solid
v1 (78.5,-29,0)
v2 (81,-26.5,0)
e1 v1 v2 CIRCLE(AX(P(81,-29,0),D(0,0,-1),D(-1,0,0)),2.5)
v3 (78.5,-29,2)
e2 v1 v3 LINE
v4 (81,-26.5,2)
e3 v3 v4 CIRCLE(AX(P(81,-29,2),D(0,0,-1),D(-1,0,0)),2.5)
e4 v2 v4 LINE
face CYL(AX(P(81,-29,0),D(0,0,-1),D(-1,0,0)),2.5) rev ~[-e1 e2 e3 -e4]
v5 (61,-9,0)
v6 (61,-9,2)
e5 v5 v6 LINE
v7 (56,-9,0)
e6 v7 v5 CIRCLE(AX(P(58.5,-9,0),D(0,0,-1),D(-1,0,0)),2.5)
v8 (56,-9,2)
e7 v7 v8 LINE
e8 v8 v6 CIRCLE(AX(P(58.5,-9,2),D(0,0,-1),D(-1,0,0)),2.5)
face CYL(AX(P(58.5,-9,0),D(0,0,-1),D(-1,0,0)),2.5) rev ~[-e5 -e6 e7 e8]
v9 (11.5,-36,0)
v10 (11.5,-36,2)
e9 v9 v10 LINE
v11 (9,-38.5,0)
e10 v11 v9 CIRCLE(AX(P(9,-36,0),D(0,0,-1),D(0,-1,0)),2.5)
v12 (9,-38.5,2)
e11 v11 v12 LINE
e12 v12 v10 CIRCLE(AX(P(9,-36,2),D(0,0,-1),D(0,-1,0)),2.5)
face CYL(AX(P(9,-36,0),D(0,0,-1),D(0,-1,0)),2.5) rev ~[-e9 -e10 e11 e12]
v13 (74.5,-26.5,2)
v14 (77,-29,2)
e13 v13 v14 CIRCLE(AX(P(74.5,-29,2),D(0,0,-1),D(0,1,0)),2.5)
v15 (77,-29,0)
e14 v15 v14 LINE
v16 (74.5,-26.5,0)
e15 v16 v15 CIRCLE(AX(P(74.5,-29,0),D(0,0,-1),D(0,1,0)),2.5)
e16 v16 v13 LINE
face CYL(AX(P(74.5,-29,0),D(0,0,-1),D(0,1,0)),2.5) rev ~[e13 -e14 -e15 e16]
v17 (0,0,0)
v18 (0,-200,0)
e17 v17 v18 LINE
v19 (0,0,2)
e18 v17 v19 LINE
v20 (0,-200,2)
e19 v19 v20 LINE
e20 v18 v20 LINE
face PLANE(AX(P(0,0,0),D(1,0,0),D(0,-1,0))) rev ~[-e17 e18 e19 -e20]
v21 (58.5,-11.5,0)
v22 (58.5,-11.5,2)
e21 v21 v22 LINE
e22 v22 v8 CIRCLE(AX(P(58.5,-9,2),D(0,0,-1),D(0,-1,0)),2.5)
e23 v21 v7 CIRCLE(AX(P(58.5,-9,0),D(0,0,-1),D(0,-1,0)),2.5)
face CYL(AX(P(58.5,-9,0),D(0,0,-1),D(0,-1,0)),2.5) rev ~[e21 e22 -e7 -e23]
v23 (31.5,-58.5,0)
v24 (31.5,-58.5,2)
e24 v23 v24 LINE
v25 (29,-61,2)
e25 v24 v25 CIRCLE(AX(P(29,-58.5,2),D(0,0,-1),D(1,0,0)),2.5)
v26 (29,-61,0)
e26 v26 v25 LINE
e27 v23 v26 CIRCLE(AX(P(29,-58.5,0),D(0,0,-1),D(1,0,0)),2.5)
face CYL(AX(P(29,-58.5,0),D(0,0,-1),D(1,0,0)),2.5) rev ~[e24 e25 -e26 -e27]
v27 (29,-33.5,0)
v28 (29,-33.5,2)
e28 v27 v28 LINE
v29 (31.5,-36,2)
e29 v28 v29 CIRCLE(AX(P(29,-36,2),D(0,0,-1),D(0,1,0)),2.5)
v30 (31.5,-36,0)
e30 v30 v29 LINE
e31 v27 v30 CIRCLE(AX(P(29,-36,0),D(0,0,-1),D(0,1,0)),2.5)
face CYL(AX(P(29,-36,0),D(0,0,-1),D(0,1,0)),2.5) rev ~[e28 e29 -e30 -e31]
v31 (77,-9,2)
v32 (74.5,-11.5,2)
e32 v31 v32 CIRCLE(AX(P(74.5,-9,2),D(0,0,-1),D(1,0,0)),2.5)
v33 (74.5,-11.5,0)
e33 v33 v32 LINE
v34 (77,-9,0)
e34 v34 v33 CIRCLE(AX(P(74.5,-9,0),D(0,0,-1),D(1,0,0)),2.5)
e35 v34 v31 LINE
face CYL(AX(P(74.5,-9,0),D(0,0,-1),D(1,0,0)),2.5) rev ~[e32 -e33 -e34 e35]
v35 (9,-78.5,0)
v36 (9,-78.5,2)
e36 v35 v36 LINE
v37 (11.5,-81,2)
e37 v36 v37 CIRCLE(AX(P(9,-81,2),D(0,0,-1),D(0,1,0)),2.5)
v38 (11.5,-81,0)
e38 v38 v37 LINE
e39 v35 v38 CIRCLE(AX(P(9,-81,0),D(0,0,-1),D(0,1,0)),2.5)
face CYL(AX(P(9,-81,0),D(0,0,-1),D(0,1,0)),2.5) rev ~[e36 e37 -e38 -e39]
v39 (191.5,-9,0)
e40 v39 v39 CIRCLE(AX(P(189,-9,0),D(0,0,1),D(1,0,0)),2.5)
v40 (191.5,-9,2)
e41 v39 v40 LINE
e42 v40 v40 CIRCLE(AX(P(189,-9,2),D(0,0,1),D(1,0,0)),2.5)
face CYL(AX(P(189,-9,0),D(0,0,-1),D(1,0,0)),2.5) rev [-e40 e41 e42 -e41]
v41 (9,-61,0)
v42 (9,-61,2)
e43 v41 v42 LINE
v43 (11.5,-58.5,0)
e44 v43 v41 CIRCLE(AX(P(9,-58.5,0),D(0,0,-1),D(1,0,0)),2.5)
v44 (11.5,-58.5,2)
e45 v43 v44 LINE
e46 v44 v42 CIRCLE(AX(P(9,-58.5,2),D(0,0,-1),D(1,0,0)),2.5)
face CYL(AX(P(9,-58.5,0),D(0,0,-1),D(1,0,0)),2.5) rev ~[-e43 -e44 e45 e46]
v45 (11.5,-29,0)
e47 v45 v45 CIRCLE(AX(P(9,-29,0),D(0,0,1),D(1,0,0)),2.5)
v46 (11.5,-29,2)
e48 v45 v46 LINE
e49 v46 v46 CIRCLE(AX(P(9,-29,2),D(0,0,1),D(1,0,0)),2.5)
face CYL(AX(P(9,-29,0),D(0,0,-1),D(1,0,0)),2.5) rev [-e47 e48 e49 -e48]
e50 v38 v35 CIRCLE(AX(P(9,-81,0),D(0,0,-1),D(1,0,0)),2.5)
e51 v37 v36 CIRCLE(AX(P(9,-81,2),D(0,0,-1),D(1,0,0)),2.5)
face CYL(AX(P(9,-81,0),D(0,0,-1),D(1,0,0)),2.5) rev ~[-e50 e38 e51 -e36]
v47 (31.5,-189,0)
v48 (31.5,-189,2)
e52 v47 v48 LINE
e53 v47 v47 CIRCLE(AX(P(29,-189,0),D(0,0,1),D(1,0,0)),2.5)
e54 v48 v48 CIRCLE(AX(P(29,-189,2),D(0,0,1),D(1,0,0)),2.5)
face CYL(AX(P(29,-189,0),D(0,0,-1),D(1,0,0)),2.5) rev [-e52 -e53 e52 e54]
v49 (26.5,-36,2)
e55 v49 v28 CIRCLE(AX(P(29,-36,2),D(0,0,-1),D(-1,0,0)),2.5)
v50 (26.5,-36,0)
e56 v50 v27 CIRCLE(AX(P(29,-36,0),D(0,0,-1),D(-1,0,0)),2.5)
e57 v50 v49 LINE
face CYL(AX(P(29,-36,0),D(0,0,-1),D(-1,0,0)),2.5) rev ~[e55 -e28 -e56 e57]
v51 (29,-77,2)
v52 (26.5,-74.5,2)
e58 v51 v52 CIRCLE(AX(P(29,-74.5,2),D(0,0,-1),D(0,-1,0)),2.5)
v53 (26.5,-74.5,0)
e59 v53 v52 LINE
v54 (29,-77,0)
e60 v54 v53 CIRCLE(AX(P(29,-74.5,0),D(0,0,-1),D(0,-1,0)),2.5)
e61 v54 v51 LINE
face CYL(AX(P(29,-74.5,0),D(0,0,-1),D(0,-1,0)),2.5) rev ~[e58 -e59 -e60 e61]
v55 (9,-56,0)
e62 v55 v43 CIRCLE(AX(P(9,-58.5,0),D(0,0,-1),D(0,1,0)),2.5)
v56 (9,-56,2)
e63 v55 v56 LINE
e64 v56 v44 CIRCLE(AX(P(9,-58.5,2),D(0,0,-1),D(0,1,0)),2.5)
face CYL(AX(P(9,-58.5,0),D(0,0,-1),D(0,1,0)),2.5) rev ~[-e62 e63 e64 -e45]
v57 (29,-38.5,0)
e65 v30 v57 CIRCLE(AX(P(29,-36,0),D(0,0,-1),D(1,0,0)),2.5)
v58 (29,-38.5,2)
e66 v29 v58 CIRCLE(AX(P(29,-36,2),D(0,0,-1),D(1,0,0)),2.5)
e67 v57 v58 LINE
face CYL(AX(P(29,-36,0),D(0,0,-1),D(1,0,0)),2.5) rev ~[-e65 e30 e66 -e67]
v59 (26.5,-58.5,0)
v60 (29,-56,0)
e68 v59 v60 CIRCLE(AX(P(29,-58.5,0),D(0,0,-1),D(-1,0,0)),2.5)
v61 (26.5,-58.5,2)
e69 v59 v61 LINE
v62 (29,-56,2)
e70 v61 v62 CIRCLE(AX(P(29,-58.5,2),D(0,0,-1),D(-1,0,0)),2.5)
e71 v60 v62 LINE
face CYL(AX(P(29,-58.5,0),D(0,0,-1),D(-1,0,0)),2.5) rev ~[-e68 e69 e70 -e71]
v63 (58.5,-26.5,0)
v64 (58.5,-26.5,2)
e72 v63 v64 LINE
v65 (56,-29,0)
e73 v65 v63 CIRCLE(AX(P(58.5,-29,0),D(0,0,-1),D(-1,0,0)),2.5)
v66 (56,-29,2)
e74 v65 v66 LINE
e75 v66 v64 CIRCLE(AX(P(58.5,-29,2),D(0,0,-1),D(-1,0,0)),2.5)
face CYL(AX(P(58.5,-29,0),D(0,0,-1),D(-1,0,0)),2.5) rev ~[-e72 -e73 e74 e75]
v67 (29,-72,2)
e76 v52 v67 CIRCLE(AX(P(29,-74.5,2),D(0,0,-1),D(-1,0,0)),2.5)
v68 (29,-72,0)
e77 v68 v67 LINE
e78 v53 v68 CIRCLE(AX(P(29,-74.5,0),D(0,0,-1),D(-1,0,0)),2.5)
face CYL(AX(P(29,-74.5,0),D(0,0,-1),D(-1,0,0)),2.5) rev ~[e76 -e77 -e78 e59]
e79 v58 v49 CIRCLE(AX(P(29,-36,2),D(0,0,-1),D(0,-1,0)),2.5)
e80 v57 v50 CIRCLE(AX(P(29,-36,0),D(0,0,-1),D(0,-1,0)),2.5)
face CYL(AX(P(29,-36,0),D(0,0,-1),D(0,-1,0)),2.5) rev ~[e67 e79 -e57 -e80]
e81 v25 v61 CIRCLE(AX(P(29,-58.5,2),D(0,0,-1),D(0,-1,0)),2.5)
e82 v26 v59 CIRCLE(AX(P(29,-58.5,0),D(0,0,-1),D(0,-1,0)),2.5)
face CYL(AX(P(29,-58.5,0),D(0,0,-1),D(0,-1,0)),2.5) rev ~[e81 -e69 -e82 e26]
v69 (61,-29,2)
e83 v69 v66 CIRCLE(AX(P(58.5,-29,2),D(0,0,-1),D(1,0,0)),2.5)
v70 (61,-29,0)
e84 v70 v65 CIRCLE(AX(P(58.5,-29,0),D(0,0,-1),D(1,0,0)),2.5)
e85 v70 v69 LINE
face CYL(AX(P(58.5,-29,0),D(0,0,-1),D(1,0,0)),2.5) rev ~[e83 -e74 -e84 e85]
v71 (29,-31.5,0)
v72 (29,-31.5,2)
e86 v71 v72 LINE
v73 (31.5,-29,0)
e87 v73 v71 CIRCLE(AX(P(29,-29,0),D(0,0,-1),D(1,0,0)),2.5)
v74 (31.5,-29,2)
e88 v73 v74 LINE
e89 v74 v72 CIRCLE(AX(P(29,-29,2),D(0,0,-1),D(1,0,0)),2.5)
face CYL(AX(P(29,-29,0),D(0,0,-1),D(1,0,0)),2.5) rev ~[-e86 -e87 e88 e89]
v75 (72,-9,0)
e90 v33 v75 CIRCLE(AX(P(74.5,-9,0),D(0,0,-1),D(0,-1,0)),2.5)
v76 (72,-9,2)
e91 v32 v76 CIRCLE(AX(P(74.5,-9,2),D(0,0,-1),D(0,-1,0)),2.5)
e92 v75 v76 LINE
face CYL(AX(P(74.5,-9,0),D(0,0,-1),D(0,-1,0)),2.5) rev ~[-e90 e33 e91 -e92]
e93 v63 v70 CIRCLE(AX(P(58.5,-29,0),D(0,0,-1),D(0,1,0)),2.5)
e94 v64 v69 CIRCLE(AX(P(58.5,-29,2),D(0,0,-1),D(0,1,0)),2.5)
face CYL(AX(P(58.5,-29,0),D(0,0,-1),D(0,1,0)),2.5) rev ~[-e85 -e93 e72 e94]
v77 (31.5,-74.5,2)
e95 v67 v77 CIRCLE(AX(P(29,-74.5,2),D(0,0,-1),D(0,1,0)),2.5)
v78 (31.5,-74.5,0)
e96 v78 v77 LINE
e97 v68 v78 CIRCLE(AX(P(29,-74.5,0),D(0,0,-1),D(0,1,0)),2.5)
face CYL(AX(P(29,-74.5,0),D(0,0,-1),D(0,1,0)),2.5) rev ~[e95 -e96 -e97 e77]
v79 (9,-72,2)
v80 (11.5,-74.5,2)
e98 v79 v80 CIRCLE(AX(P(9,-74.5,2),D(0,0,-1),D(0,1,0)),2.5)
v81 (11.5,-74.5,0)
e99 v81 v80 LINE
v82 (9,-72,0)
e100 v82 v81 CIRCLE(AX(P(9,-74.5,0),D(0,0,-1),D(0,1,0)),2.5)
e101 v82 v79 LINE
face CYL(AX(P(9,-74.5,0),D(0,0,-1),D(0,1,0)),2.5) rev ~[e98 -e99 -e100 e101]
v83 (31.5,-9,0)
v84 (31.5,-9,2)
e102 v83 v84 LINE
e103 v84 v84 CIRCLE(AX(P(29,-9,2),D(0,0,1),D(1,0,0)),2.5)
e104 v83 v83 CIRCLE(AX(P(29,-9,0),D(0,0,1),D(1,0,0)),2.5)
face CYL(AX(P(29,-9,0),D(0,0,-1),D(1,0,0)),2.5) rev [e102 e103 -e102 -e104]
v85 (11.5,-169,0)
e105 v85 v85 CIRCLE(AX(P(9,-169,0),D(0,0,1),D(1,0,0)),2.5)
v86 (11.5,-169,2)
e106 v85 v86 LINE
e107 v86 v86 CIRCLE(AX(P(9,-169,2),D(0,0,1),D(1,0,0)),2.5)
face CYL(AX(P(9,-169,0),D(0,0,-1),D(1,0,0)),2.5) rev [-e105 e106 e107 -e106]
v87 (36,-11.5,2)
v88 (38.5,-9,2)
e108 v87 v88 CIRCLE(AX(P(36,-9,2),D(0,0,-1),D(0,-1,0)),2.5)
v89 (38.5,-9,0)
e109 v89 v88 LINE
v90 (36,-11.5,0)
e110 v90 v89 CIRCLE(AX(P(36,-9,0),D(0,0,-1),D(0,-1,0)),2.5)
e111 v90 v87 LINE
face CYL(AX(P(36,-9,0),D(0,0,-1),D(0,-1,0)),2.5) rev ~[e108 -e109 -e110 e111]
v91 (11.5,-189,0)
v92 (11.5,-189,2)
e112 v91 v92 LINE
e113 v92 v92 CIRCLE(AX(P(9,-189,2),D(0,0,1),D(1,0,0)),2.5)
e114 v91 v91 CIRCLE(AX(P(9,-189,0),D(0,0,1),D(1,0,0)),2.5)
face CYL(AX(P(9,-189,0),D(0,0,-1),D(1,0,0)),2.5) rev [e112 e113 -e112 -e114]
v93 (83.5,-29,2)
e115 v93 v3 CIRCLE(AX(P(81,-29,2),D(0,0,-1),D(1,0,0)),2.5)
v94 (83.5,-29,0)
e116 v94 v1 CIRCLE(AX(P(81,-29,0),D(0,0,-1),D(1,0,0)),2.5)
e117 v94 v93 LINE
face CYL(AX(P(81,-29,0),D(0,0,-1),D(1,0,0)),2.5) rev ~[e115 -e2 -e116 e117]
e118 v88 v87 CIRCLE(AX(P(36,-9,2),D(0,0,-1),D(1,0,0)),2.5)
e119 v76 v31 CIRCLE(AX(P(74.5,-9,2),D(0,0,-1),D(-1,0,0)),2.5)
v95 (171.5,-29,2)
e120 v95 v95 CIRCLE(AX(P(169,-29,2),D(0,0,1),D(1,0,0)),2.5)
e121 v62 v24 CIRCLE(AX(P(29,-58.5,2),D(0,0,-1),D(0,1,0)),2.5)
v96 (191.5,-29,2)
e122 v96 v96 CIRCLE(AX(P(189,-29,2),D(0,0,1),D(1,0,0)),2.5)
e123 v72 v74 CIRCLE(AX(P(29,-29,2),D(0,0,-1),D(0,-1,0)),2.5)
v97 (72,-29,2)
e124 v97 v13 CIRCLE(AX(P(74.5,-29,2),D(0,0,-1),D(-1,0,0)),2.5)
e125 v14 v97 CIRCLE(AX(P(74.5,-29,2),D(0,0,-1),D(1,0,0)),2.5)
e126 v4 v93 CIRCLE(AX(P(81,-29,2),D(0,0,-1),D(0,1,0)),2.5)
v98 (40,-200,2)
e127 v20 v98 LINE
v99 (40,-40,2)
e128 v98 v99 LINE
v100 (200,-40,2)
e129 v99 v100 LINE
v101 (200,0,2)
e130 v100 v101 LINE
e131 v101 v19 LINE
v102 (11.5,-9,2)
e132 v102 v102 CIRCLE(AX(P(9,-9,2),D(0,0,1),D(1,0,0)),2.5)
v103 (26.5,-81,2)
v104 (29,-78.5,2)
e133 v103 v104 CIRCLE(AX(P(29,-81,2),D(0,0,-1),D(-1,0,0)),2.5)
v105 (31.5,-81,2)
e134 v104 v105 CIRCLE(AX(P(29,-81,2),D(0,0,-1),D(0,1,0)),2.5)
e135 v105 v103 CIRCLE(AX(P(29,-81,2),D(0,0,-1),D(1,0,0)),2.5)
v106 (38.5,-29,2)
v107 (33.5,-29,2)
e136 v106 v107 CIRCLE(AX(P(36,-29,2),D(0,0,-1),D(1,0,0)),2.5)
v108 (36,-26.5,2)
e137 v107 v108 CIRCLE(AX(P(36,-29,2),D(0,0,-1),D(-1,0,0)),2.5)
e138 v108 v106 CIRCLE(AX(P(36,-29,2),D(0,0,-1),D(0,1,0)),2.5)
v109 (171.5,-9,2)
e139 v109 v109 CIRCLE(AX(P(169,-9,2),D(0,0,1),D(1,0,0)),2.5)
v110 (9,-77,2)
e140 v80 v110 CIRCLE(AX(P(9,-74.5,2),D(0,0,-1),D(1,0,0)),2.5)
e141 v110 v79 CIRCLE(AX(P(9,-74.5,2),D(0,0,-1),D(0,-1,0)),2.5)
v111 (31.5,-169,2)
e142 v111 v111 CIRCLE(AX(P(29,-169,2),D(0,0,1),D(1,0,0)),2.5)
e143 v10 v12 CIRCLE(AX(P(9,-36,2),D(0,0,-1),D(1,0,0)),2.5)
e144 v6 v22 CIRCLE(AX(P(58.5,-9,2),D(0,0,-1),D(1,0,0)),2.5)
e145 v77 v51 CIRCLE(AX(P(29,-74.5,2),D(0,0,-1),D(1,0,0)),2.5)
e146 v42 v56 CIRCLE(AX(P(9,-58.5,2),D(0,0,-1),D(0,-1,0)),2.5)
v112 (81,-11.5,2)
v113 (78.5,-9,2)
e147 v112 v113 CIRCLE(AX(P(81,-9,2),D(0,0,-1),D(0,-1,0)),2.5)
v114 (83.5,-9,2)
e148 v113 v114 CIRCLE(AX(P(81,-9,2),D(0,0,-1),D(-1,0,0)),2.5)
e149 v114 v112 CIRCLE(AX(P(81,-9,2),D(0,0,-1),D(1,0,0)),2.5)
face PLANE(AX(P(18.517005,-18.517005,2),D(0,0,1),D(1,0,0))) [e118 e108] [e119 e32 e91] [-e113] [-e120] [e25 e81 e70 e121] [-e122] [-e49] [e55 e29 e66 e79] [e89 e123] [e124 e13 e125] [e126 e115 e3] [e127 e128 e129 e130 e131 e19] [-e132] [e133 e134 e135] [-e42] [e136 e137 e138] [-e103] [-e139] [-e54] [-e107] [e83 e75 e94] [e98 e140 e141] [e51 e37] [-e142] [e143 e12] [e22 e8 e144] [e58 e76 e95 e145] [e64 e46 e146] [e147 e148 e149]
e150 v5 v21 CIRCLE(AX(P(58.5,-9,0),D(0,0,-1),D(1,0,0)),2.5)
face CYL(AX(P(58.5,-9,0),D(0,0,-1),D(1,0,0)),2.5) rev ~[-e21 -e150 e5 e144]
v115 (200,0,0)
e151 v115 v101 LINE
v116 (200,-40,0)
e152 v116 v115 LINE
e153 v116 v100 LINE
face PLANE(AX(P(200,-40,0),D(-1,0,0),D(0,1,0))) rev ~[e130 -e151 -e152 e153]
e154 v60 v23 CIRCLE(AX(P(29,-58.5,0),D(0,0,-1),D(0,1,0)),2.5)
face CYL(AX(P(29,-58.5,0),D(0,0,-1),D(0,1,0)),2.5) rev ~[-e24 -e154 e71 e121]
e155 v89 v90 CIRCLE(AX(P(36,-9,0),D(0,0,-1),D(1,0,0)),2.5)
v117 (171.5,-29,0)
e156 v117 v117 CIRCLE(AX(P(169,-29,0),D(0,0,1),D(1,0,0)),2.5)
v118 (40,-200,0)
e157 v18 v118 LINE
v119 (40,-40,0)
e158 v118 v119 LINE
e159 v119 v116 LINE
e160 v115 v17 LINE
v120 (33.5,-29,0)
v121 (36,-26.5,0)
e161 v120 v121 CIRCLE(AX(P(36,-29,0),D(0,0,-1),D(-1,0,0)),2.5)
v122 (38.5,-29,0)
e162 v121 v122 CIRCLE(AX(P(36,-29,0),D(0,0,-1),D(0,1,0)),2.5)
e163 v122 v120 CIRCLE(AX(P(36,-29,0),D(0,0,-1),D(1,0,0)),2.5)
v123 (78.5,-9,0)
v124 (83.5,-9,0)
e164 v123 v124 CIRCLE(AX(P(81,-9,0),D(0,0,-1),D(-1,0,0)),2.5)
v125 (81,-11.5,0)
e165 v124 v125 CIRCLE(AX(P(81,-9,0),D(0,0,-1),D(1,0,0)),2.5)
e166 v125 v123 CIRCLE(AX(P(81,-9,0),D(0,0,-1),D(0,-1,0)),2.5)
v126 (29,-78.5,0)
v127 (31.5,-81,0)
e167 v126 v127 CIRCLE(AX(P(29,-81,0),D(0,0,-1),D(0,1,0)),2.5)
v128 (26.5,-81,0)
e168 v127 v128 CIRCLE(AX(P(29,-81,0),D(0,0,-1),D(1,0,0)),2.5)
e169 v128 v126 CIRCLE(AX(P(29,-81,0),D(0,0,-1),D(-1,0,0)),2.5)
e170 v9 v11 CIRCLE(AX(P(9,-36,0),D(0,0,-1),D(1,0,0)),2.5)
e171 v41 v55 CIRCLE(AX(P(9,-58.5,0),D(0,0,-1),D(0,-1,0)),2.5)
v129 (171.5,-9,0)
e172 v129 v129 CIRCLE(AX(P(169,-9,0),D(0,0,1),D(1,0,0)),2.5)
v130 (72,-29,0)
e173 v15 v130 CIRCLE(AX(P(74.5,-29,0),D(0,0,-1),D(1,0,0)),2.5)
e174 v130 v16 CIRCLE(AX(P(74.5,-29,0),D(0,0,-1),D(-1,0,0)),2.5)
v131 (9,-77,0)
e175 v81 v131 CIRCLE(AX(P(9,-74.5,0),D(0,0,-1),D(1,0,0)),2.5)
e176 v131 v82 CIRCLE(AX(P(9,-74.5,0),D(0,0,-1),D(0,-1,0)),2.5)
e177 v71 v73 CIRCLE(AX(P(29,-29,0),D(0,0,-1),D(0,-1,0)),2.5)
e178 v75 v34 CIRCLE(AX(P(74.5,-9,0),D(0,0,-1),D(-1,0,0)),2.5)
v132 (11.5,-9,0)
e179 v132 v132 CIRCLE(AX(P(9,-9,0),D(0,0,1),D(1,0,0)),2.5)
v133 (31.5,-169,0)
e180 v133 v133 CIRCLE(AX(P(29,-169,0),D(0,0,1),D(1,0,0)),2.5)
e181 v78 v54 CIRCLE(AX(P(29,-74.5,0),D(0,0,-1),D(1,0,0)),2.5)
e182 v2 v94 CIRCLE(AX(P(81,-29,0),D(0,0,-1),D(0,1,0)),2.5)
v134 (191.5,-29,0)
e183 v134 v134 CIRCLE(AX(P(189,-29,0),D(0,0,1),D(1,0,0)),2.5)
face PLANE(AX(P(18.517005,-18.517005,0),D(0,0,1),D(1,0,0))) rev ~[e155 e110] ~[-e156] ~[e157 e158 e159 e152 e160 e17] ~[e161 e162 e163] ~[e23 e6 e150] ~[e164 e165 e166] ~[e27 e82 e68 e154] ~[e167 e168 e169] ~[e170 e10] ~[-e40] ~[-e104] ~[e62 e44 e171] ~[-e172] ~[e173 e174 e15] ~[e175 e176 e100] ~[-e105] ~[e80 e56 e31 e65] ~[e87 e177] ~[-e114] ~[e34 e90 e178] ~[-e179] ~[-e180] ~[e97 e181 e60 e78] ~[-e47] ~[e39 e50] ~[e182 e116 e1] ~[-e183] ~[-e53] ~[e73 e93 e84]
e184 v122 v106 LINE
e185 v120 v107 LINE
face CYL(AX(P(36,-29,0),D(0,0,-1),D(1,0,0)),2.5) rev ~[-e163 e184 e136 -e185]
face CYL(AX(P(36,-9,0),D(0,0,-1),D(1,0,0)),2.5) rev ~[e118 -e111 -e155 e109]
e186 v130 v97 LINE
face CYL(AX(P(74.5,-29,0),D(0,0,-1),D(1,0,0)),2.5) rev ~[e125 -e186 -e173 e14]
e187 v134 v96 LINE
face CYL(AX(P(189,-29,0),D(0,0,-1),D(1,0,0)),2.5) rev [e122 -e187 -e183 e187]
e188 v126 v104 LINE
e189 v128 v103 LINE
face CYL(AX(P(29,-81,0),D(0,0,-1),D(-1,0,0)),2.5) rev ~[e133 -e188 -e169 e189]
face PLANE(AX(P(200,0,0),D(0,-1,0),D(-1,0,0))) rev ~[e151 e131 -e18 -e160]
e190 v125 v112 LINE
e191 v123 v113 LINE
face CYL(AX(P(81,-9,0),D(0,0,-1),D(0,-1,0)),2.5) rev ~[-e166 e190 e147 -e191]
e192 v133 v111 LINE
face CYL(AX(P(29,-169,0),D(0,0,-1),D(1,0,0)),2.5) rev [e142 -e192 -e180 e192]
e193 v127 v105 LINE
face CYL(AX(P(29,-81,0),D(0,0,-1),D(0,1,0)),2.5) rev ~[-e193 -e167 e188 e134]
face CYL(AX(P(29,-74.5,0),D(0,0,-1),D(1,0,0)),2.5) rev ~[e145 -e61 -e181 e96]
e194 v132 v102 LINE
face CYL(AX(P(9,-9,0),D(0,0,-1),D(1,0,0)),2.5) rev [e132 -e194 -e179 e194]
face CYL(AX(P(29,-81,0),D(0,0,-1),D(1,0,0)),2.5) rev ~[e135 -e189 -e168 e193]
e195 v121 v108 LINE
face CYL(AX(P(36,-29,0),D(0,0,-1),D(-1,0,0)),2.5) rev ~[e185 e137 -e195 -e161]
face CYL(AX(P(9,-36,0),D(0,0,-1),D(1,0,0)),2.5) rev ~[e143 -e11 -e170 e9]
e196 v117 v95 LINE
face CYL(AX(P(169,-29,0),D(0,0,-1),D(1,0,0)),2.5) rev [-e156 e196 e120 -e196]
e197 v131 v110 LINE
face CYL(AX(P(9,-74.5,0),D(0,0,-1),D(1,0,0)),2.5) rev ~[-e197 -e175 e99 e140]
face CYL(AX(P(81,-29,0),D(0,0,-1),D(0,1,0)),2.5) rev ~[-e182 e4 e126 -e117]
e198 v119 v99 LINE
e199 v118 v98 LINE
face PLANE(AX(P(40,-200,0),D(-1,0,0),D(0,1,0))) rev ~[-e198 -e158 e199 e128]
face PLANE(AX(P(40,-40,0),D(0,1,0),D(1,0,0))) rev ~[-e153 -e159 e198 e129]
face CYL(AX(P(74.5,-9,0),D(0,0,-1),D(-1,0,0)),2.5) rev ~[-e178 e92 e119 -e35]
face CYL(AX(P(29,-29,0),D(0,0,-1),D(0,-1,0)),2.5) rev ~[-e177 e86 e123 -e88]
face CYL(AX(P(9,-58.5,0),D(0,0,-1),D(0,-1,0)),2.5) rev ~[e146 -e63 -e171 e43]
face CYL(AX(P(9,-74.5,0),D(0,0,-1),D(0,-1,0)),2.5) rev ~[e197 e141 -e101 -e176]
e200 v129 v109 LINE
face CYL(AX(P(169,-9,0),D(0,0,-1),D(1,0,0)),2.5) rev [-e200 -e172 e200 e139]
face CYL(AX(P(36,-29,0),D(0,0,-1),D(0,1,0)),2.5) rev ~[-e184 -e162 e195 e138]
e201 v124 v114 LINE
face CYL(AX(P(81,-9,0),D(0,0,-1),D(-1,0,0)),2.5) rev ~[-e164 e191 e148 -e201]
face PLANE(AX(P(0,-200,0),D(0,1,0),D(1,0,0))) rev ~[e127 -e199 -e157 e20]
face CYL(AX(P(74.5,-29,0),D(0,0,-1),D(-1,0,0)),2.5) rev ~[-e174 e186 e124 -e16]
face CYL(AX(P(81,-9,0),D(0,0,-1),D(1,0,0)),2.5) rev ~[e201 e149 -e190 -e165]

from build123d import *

# Parameters (mm, degrees)
F0_R     = 2.5
F1_DEPTH = 2


with BuildPart() as f1:
    # F0 (on Top) → F1 (new body)
    with BuildSketch(Plane.XY):
        with BuildLine():
            Line((40, 0), (0, 0))
            Line((0, 0), (0, -40))
            Line((0, -40), (9, -40))
            Line((9, -40), (9, -38.5))
            ThreePointArc((9, -38.5), (7.232233047, -34.232233047), (11.5, -36))
            Line((11.5, -36), (26.5, -36))
            ThreePointArc((26.5, -36), (27.232233047, -34.232233047), (29, -33.5))
            Line((29, -33.5), (29, -31.5))
            ThreePointArc((29, -31.5), (27.232233047, -27.232233047), (31.5, -29))
            Line((31.5, -29), (33.5, -29))
            ThreePointArc((33.5, -29), (34.232233047, -27.232233047), (36, -26.5))
            Line((36, -26.5), (36, -11.5))
            ThreePointArc((36, -11.5), (34.232233047, -7.232233047), (38.5, -9))
            Line((38.5, -9), (40, -9))
            Line((40, -9), (40, 0))
        make_face()
        with Locations((9, -29)):
            Circle(F0_R, mode=Mode.SUBTRACT)
        with Locations((9, -9)):
            Circle(F0_R, mode=Mode.SUBTRACT)
        with Locations((29, -9)):
            Circle(F0_R, mode=Mode.SUBTRACT)
        with BuildLine():
            Line((200, 0), (40, 0))
            Line((40, 0), (40, -9))
            Line((40, -9), (56, -9))
            ThreePointArc((56, -9), (58.5, -6.5), (61, -9))
            Line((61, -9), (72, -9))
            ThreePointArc((72, -9), (74.5, -6.5), (77, -9))
            Line((77, -9), (78.5, -9))
            ThreePointArc((78.5, -9), (81, -6.5), (83.5, -9))
            ThreePointArc((83.5, -9), (82.767766953, -10.767766953), (81, -11.5))
            Line((81, -11.5), (81, -26.5))
            ThreePointArc((81, -26.5), (82.767766953, -27.232233047), (83.5, -29))
            ThreePointArc((83.5, -29), (81, -31.5), (78.5, -29))
            Line((78.5, -29), (77, -29))
            ThreePointArc((77, -29), (74.5, -31.5), (72, -29))
            Line((72, -29), (61, -29))
            ThreePointArc((61, -29), (58.5, -31.5), (56, -29))
            Line((56, -29), (40, -29))
            Line((40, -29), (40, -40))
            Line((40, -40), (200, -40))
            Line((200, -40), (200, 0))
        make_face()
        with Locations((169, -29)):
            Circle(F0_R, mode=Mode.SUBTRACT)
        with Locations((189, -29)):
            Circle(F0_R, mode=Mode.SUBTRACT)
        with Locations((169, -9)):
            Circle(F0_R, mode=Mode.SUBTRACT)
        with Locations((189, -9)):
            Circle(F0_R, mode=Mode.SUBTRACT)
        with BuildLine():
            Line((9, -40), (0, -40))
            Line((0, -40), (0, -200))
            Line((0, -200), (40, -200))
            Line((40, -200), (40, -40))
            Line((40, -40), (29, -40))
            Line((29, -40), (29, -56))
            ThreePointArc((29, -56), (30.767766953, -56.732233047), (31.5, -58.5))
            ThreePointArc((31.5, -58.5), (30.767766953, -60.267766953), (29, -61))
            Line((29, -61), (29, -72))
            ThreePointArc((29, -72), (30.767766953, -72.732233047), (31.5, -74.5))
            ThreePointArc((31.5, -74.5), (30.767766953, -76.267766953), (29, -77))
            Line((29, -77), (29, -78.5))
            ThreePointArc((29, -78.5), (30.767766953, -79.232233047), (31.5, -81))
            ThreePointArc((31.5, -81), (29, -83.5), (26.5, -81))
            Line((26.5, -81), (11.5, -81))
            ThreePointArc((11.5, -81), (7.232233047, -82.767766953), (9, -78.5))
            Line((9, -78.5), (9, -77))
            ThreePointArc((9, -77), (6.5, -74.5), (9, -72))
            Line((9, -72), (9, -61))
            ThreePointArc((9, -61), (6.5, -58.5), (9, -56))
            Line((9, -56), (9, -40))
        make_face()
        with Locations((9, -189)):
            Circle(F0_R, mode=Mode.SUBTRACT)
        with Locations((29, -189)):
            Circle(F0_R, mode=Mode.SUBTRACT)
        with Locations((9, -169)):
            Circle(F0_R, mode=Mode.SUBTRACT)
        with Locations((29, -169)):
            Circle(F0_R, mode=Mode.SUBTRACT)
        with BuildLine():
            Line((40, -40), (40, -29))
            Line((40, -29), (38.5, -29))
            ThreePointArc((38.5, -29), (36, -31.5), (33.5, -29))
            Line((33.5, -29), (31.5, -29))
            ThreePointArc((31.5, -29), (30.767766953, -30.767766953), (29, -31.5))
            Line((29, -31.5), (29, -33.5))
            ThreePointArc((29, -33.5), (30.767766953, -34.232233047), (31.5, -36))
            ThreePointArc((31.5, -36), (30.767766953, -37.767766953), (29, -38.5))
            Line((29, -38.5), (29, -40))
            Line((29, -40), (40, -40))
        make_face()
        with BuildLine():
            Line((40, -29), (40, -9))
            Line((40, -9), (38.5, -9))
            ThreePointArc((38.5, -9), (37.767766953, -10.767766953), (36, -11.5))
            Line((36, -11.5), (36, -26.5))
            ThreePointArc((36, -26.5), (37.767766953, -27.232233047), (38.5, -29))
            Line((38.5, -29), (40, -29))
        make_face()
        with BuildLine():
            Line((56, -9), (40, -9))
            Line((40, -9), (40, -29))
            Line((40, -29), (56, -29))
            ThreePointArc((56, -29), (56.732233047, -27.232233047), (58.5, -26.5))
            Line((58.5, -26.5), (58.5, -11.5))
            ThreePointArc((58.5, -11.5), (56.732233047, -10.767766953), (56, -9))
        make_face()
        with BuildLine():
            Line((78.5, -9), (77, -9))
            ThreePointArc((77, -9), (76.267766953, -10.767766953), (74.5, -11.5))
            Line((74.5, -11.5), (74.5, -26.5))
            ThreePointArc((74.5, -26.5), (76.267766953, -27.232233047), (77, -29))
            Line((77, -29), (78.5, -29))
            ThreePointArc((78.5, -29), (79.232233047, -27.232233047), (81, -26.5))
            Line((81, -26.5), (81, -11.5))
            ThreePointArc((81, -11.5), (79.232233047, -10.767766953), (78.5, -9))
        make_face()
        with BuildLine():
            Line((72, -9), (61, -9))
            ThreePointArc((61, -9), (60.267766953, -10.767766953), (58.5, -11.5))
            Line((58.5, -11.5), (58.5, -26.5))
            ThreePointArc((58.5, -26.5), (60.267766953, -27.232233047), (61, -29))
            Line((61, -29), (72, -29))
            ThreePointArc((72, -29), (72.732233047, -27.232233047), (74.5, -26.5))
            Line((74.5, -26.5), (74.5, -11.5))
            ThreePointArc((74.5, -11.5), (72.732233047, -10.767766953), (72, -9))
        make_face()
        with BuildLine():
            Line((26.5, -74.5), (11.5, -74.5))
            ThreePointArc((11.5, -74.5), (10.767766953, -76.267766953), (9, -77))
            Line((9, -77), (9, -78.5))
            ThreePointArc((9, -78.5), (10.767766953, -79.232233047), (11.5, -81))
            Line((11.5, -81), (26.5, -81))
            ThreePointArc((26.5, -81), (27.232233047, -79.232233047), (29, -78.5))
            Line((29, -78.5), (29, -77))
            ThreePointArc((29, -77), (27.232233047, -76.267766953), (26.5, -74.5))
        make_face()
        with BuildLine():
            Line((26.5, -58.5), (11.5, -58.5))
            ThreePointArc((11.5, -58.5), (10.767766953, -60.267766953), (9, -61))
            Line((9, -61), (9, -72))
            ThreePointArc((9, -72), (10.767766953, -72.732233047), (11.5, -74.5))
            Line((11.5, -74.5), (26.5, -74.5))
            ThreePointArc((26.5, -74.5), (27.232233047, -72.732233047), (29, -72))
            Line((29, -72), (29, -61))
            ThreePointArc((29, -61), (27.232233047, -60.267766953), (26.5, -58.5))
        make_face()
        with BuildLine():
            Line((29, -40), (9, -40))
            Line((9, -40), (9, -56))
            ThreePointArc((9, -56), (10.767766953, -56.732233047), (11.5, -58.5))
            Line((11.5, -58.5), (26.5, -58.5))
            ThreePointArc((26.5, -58.5), (27.232233047, -56.732233047), (29, -56))
            Line((29, -56), (29, -40))
        make_face()
        with BuildLine():
            Line((9, -38.5), (9, -40))
            Line((9, -40), (29, -40))
            Line((29, -40), (29, -38.5))
            ThreePointArc((29, -38.5), (27.232233047, -37.767766953), (26.5, -36))
            Line((26.5, -36), (11.5, -36))
            ThreePointArc((11.5, -36), (10.767766953, -37.767766953), (9, -38.5))
        make_face()
    extrude(amount=F1_DEPTH)


solid = f1.part
